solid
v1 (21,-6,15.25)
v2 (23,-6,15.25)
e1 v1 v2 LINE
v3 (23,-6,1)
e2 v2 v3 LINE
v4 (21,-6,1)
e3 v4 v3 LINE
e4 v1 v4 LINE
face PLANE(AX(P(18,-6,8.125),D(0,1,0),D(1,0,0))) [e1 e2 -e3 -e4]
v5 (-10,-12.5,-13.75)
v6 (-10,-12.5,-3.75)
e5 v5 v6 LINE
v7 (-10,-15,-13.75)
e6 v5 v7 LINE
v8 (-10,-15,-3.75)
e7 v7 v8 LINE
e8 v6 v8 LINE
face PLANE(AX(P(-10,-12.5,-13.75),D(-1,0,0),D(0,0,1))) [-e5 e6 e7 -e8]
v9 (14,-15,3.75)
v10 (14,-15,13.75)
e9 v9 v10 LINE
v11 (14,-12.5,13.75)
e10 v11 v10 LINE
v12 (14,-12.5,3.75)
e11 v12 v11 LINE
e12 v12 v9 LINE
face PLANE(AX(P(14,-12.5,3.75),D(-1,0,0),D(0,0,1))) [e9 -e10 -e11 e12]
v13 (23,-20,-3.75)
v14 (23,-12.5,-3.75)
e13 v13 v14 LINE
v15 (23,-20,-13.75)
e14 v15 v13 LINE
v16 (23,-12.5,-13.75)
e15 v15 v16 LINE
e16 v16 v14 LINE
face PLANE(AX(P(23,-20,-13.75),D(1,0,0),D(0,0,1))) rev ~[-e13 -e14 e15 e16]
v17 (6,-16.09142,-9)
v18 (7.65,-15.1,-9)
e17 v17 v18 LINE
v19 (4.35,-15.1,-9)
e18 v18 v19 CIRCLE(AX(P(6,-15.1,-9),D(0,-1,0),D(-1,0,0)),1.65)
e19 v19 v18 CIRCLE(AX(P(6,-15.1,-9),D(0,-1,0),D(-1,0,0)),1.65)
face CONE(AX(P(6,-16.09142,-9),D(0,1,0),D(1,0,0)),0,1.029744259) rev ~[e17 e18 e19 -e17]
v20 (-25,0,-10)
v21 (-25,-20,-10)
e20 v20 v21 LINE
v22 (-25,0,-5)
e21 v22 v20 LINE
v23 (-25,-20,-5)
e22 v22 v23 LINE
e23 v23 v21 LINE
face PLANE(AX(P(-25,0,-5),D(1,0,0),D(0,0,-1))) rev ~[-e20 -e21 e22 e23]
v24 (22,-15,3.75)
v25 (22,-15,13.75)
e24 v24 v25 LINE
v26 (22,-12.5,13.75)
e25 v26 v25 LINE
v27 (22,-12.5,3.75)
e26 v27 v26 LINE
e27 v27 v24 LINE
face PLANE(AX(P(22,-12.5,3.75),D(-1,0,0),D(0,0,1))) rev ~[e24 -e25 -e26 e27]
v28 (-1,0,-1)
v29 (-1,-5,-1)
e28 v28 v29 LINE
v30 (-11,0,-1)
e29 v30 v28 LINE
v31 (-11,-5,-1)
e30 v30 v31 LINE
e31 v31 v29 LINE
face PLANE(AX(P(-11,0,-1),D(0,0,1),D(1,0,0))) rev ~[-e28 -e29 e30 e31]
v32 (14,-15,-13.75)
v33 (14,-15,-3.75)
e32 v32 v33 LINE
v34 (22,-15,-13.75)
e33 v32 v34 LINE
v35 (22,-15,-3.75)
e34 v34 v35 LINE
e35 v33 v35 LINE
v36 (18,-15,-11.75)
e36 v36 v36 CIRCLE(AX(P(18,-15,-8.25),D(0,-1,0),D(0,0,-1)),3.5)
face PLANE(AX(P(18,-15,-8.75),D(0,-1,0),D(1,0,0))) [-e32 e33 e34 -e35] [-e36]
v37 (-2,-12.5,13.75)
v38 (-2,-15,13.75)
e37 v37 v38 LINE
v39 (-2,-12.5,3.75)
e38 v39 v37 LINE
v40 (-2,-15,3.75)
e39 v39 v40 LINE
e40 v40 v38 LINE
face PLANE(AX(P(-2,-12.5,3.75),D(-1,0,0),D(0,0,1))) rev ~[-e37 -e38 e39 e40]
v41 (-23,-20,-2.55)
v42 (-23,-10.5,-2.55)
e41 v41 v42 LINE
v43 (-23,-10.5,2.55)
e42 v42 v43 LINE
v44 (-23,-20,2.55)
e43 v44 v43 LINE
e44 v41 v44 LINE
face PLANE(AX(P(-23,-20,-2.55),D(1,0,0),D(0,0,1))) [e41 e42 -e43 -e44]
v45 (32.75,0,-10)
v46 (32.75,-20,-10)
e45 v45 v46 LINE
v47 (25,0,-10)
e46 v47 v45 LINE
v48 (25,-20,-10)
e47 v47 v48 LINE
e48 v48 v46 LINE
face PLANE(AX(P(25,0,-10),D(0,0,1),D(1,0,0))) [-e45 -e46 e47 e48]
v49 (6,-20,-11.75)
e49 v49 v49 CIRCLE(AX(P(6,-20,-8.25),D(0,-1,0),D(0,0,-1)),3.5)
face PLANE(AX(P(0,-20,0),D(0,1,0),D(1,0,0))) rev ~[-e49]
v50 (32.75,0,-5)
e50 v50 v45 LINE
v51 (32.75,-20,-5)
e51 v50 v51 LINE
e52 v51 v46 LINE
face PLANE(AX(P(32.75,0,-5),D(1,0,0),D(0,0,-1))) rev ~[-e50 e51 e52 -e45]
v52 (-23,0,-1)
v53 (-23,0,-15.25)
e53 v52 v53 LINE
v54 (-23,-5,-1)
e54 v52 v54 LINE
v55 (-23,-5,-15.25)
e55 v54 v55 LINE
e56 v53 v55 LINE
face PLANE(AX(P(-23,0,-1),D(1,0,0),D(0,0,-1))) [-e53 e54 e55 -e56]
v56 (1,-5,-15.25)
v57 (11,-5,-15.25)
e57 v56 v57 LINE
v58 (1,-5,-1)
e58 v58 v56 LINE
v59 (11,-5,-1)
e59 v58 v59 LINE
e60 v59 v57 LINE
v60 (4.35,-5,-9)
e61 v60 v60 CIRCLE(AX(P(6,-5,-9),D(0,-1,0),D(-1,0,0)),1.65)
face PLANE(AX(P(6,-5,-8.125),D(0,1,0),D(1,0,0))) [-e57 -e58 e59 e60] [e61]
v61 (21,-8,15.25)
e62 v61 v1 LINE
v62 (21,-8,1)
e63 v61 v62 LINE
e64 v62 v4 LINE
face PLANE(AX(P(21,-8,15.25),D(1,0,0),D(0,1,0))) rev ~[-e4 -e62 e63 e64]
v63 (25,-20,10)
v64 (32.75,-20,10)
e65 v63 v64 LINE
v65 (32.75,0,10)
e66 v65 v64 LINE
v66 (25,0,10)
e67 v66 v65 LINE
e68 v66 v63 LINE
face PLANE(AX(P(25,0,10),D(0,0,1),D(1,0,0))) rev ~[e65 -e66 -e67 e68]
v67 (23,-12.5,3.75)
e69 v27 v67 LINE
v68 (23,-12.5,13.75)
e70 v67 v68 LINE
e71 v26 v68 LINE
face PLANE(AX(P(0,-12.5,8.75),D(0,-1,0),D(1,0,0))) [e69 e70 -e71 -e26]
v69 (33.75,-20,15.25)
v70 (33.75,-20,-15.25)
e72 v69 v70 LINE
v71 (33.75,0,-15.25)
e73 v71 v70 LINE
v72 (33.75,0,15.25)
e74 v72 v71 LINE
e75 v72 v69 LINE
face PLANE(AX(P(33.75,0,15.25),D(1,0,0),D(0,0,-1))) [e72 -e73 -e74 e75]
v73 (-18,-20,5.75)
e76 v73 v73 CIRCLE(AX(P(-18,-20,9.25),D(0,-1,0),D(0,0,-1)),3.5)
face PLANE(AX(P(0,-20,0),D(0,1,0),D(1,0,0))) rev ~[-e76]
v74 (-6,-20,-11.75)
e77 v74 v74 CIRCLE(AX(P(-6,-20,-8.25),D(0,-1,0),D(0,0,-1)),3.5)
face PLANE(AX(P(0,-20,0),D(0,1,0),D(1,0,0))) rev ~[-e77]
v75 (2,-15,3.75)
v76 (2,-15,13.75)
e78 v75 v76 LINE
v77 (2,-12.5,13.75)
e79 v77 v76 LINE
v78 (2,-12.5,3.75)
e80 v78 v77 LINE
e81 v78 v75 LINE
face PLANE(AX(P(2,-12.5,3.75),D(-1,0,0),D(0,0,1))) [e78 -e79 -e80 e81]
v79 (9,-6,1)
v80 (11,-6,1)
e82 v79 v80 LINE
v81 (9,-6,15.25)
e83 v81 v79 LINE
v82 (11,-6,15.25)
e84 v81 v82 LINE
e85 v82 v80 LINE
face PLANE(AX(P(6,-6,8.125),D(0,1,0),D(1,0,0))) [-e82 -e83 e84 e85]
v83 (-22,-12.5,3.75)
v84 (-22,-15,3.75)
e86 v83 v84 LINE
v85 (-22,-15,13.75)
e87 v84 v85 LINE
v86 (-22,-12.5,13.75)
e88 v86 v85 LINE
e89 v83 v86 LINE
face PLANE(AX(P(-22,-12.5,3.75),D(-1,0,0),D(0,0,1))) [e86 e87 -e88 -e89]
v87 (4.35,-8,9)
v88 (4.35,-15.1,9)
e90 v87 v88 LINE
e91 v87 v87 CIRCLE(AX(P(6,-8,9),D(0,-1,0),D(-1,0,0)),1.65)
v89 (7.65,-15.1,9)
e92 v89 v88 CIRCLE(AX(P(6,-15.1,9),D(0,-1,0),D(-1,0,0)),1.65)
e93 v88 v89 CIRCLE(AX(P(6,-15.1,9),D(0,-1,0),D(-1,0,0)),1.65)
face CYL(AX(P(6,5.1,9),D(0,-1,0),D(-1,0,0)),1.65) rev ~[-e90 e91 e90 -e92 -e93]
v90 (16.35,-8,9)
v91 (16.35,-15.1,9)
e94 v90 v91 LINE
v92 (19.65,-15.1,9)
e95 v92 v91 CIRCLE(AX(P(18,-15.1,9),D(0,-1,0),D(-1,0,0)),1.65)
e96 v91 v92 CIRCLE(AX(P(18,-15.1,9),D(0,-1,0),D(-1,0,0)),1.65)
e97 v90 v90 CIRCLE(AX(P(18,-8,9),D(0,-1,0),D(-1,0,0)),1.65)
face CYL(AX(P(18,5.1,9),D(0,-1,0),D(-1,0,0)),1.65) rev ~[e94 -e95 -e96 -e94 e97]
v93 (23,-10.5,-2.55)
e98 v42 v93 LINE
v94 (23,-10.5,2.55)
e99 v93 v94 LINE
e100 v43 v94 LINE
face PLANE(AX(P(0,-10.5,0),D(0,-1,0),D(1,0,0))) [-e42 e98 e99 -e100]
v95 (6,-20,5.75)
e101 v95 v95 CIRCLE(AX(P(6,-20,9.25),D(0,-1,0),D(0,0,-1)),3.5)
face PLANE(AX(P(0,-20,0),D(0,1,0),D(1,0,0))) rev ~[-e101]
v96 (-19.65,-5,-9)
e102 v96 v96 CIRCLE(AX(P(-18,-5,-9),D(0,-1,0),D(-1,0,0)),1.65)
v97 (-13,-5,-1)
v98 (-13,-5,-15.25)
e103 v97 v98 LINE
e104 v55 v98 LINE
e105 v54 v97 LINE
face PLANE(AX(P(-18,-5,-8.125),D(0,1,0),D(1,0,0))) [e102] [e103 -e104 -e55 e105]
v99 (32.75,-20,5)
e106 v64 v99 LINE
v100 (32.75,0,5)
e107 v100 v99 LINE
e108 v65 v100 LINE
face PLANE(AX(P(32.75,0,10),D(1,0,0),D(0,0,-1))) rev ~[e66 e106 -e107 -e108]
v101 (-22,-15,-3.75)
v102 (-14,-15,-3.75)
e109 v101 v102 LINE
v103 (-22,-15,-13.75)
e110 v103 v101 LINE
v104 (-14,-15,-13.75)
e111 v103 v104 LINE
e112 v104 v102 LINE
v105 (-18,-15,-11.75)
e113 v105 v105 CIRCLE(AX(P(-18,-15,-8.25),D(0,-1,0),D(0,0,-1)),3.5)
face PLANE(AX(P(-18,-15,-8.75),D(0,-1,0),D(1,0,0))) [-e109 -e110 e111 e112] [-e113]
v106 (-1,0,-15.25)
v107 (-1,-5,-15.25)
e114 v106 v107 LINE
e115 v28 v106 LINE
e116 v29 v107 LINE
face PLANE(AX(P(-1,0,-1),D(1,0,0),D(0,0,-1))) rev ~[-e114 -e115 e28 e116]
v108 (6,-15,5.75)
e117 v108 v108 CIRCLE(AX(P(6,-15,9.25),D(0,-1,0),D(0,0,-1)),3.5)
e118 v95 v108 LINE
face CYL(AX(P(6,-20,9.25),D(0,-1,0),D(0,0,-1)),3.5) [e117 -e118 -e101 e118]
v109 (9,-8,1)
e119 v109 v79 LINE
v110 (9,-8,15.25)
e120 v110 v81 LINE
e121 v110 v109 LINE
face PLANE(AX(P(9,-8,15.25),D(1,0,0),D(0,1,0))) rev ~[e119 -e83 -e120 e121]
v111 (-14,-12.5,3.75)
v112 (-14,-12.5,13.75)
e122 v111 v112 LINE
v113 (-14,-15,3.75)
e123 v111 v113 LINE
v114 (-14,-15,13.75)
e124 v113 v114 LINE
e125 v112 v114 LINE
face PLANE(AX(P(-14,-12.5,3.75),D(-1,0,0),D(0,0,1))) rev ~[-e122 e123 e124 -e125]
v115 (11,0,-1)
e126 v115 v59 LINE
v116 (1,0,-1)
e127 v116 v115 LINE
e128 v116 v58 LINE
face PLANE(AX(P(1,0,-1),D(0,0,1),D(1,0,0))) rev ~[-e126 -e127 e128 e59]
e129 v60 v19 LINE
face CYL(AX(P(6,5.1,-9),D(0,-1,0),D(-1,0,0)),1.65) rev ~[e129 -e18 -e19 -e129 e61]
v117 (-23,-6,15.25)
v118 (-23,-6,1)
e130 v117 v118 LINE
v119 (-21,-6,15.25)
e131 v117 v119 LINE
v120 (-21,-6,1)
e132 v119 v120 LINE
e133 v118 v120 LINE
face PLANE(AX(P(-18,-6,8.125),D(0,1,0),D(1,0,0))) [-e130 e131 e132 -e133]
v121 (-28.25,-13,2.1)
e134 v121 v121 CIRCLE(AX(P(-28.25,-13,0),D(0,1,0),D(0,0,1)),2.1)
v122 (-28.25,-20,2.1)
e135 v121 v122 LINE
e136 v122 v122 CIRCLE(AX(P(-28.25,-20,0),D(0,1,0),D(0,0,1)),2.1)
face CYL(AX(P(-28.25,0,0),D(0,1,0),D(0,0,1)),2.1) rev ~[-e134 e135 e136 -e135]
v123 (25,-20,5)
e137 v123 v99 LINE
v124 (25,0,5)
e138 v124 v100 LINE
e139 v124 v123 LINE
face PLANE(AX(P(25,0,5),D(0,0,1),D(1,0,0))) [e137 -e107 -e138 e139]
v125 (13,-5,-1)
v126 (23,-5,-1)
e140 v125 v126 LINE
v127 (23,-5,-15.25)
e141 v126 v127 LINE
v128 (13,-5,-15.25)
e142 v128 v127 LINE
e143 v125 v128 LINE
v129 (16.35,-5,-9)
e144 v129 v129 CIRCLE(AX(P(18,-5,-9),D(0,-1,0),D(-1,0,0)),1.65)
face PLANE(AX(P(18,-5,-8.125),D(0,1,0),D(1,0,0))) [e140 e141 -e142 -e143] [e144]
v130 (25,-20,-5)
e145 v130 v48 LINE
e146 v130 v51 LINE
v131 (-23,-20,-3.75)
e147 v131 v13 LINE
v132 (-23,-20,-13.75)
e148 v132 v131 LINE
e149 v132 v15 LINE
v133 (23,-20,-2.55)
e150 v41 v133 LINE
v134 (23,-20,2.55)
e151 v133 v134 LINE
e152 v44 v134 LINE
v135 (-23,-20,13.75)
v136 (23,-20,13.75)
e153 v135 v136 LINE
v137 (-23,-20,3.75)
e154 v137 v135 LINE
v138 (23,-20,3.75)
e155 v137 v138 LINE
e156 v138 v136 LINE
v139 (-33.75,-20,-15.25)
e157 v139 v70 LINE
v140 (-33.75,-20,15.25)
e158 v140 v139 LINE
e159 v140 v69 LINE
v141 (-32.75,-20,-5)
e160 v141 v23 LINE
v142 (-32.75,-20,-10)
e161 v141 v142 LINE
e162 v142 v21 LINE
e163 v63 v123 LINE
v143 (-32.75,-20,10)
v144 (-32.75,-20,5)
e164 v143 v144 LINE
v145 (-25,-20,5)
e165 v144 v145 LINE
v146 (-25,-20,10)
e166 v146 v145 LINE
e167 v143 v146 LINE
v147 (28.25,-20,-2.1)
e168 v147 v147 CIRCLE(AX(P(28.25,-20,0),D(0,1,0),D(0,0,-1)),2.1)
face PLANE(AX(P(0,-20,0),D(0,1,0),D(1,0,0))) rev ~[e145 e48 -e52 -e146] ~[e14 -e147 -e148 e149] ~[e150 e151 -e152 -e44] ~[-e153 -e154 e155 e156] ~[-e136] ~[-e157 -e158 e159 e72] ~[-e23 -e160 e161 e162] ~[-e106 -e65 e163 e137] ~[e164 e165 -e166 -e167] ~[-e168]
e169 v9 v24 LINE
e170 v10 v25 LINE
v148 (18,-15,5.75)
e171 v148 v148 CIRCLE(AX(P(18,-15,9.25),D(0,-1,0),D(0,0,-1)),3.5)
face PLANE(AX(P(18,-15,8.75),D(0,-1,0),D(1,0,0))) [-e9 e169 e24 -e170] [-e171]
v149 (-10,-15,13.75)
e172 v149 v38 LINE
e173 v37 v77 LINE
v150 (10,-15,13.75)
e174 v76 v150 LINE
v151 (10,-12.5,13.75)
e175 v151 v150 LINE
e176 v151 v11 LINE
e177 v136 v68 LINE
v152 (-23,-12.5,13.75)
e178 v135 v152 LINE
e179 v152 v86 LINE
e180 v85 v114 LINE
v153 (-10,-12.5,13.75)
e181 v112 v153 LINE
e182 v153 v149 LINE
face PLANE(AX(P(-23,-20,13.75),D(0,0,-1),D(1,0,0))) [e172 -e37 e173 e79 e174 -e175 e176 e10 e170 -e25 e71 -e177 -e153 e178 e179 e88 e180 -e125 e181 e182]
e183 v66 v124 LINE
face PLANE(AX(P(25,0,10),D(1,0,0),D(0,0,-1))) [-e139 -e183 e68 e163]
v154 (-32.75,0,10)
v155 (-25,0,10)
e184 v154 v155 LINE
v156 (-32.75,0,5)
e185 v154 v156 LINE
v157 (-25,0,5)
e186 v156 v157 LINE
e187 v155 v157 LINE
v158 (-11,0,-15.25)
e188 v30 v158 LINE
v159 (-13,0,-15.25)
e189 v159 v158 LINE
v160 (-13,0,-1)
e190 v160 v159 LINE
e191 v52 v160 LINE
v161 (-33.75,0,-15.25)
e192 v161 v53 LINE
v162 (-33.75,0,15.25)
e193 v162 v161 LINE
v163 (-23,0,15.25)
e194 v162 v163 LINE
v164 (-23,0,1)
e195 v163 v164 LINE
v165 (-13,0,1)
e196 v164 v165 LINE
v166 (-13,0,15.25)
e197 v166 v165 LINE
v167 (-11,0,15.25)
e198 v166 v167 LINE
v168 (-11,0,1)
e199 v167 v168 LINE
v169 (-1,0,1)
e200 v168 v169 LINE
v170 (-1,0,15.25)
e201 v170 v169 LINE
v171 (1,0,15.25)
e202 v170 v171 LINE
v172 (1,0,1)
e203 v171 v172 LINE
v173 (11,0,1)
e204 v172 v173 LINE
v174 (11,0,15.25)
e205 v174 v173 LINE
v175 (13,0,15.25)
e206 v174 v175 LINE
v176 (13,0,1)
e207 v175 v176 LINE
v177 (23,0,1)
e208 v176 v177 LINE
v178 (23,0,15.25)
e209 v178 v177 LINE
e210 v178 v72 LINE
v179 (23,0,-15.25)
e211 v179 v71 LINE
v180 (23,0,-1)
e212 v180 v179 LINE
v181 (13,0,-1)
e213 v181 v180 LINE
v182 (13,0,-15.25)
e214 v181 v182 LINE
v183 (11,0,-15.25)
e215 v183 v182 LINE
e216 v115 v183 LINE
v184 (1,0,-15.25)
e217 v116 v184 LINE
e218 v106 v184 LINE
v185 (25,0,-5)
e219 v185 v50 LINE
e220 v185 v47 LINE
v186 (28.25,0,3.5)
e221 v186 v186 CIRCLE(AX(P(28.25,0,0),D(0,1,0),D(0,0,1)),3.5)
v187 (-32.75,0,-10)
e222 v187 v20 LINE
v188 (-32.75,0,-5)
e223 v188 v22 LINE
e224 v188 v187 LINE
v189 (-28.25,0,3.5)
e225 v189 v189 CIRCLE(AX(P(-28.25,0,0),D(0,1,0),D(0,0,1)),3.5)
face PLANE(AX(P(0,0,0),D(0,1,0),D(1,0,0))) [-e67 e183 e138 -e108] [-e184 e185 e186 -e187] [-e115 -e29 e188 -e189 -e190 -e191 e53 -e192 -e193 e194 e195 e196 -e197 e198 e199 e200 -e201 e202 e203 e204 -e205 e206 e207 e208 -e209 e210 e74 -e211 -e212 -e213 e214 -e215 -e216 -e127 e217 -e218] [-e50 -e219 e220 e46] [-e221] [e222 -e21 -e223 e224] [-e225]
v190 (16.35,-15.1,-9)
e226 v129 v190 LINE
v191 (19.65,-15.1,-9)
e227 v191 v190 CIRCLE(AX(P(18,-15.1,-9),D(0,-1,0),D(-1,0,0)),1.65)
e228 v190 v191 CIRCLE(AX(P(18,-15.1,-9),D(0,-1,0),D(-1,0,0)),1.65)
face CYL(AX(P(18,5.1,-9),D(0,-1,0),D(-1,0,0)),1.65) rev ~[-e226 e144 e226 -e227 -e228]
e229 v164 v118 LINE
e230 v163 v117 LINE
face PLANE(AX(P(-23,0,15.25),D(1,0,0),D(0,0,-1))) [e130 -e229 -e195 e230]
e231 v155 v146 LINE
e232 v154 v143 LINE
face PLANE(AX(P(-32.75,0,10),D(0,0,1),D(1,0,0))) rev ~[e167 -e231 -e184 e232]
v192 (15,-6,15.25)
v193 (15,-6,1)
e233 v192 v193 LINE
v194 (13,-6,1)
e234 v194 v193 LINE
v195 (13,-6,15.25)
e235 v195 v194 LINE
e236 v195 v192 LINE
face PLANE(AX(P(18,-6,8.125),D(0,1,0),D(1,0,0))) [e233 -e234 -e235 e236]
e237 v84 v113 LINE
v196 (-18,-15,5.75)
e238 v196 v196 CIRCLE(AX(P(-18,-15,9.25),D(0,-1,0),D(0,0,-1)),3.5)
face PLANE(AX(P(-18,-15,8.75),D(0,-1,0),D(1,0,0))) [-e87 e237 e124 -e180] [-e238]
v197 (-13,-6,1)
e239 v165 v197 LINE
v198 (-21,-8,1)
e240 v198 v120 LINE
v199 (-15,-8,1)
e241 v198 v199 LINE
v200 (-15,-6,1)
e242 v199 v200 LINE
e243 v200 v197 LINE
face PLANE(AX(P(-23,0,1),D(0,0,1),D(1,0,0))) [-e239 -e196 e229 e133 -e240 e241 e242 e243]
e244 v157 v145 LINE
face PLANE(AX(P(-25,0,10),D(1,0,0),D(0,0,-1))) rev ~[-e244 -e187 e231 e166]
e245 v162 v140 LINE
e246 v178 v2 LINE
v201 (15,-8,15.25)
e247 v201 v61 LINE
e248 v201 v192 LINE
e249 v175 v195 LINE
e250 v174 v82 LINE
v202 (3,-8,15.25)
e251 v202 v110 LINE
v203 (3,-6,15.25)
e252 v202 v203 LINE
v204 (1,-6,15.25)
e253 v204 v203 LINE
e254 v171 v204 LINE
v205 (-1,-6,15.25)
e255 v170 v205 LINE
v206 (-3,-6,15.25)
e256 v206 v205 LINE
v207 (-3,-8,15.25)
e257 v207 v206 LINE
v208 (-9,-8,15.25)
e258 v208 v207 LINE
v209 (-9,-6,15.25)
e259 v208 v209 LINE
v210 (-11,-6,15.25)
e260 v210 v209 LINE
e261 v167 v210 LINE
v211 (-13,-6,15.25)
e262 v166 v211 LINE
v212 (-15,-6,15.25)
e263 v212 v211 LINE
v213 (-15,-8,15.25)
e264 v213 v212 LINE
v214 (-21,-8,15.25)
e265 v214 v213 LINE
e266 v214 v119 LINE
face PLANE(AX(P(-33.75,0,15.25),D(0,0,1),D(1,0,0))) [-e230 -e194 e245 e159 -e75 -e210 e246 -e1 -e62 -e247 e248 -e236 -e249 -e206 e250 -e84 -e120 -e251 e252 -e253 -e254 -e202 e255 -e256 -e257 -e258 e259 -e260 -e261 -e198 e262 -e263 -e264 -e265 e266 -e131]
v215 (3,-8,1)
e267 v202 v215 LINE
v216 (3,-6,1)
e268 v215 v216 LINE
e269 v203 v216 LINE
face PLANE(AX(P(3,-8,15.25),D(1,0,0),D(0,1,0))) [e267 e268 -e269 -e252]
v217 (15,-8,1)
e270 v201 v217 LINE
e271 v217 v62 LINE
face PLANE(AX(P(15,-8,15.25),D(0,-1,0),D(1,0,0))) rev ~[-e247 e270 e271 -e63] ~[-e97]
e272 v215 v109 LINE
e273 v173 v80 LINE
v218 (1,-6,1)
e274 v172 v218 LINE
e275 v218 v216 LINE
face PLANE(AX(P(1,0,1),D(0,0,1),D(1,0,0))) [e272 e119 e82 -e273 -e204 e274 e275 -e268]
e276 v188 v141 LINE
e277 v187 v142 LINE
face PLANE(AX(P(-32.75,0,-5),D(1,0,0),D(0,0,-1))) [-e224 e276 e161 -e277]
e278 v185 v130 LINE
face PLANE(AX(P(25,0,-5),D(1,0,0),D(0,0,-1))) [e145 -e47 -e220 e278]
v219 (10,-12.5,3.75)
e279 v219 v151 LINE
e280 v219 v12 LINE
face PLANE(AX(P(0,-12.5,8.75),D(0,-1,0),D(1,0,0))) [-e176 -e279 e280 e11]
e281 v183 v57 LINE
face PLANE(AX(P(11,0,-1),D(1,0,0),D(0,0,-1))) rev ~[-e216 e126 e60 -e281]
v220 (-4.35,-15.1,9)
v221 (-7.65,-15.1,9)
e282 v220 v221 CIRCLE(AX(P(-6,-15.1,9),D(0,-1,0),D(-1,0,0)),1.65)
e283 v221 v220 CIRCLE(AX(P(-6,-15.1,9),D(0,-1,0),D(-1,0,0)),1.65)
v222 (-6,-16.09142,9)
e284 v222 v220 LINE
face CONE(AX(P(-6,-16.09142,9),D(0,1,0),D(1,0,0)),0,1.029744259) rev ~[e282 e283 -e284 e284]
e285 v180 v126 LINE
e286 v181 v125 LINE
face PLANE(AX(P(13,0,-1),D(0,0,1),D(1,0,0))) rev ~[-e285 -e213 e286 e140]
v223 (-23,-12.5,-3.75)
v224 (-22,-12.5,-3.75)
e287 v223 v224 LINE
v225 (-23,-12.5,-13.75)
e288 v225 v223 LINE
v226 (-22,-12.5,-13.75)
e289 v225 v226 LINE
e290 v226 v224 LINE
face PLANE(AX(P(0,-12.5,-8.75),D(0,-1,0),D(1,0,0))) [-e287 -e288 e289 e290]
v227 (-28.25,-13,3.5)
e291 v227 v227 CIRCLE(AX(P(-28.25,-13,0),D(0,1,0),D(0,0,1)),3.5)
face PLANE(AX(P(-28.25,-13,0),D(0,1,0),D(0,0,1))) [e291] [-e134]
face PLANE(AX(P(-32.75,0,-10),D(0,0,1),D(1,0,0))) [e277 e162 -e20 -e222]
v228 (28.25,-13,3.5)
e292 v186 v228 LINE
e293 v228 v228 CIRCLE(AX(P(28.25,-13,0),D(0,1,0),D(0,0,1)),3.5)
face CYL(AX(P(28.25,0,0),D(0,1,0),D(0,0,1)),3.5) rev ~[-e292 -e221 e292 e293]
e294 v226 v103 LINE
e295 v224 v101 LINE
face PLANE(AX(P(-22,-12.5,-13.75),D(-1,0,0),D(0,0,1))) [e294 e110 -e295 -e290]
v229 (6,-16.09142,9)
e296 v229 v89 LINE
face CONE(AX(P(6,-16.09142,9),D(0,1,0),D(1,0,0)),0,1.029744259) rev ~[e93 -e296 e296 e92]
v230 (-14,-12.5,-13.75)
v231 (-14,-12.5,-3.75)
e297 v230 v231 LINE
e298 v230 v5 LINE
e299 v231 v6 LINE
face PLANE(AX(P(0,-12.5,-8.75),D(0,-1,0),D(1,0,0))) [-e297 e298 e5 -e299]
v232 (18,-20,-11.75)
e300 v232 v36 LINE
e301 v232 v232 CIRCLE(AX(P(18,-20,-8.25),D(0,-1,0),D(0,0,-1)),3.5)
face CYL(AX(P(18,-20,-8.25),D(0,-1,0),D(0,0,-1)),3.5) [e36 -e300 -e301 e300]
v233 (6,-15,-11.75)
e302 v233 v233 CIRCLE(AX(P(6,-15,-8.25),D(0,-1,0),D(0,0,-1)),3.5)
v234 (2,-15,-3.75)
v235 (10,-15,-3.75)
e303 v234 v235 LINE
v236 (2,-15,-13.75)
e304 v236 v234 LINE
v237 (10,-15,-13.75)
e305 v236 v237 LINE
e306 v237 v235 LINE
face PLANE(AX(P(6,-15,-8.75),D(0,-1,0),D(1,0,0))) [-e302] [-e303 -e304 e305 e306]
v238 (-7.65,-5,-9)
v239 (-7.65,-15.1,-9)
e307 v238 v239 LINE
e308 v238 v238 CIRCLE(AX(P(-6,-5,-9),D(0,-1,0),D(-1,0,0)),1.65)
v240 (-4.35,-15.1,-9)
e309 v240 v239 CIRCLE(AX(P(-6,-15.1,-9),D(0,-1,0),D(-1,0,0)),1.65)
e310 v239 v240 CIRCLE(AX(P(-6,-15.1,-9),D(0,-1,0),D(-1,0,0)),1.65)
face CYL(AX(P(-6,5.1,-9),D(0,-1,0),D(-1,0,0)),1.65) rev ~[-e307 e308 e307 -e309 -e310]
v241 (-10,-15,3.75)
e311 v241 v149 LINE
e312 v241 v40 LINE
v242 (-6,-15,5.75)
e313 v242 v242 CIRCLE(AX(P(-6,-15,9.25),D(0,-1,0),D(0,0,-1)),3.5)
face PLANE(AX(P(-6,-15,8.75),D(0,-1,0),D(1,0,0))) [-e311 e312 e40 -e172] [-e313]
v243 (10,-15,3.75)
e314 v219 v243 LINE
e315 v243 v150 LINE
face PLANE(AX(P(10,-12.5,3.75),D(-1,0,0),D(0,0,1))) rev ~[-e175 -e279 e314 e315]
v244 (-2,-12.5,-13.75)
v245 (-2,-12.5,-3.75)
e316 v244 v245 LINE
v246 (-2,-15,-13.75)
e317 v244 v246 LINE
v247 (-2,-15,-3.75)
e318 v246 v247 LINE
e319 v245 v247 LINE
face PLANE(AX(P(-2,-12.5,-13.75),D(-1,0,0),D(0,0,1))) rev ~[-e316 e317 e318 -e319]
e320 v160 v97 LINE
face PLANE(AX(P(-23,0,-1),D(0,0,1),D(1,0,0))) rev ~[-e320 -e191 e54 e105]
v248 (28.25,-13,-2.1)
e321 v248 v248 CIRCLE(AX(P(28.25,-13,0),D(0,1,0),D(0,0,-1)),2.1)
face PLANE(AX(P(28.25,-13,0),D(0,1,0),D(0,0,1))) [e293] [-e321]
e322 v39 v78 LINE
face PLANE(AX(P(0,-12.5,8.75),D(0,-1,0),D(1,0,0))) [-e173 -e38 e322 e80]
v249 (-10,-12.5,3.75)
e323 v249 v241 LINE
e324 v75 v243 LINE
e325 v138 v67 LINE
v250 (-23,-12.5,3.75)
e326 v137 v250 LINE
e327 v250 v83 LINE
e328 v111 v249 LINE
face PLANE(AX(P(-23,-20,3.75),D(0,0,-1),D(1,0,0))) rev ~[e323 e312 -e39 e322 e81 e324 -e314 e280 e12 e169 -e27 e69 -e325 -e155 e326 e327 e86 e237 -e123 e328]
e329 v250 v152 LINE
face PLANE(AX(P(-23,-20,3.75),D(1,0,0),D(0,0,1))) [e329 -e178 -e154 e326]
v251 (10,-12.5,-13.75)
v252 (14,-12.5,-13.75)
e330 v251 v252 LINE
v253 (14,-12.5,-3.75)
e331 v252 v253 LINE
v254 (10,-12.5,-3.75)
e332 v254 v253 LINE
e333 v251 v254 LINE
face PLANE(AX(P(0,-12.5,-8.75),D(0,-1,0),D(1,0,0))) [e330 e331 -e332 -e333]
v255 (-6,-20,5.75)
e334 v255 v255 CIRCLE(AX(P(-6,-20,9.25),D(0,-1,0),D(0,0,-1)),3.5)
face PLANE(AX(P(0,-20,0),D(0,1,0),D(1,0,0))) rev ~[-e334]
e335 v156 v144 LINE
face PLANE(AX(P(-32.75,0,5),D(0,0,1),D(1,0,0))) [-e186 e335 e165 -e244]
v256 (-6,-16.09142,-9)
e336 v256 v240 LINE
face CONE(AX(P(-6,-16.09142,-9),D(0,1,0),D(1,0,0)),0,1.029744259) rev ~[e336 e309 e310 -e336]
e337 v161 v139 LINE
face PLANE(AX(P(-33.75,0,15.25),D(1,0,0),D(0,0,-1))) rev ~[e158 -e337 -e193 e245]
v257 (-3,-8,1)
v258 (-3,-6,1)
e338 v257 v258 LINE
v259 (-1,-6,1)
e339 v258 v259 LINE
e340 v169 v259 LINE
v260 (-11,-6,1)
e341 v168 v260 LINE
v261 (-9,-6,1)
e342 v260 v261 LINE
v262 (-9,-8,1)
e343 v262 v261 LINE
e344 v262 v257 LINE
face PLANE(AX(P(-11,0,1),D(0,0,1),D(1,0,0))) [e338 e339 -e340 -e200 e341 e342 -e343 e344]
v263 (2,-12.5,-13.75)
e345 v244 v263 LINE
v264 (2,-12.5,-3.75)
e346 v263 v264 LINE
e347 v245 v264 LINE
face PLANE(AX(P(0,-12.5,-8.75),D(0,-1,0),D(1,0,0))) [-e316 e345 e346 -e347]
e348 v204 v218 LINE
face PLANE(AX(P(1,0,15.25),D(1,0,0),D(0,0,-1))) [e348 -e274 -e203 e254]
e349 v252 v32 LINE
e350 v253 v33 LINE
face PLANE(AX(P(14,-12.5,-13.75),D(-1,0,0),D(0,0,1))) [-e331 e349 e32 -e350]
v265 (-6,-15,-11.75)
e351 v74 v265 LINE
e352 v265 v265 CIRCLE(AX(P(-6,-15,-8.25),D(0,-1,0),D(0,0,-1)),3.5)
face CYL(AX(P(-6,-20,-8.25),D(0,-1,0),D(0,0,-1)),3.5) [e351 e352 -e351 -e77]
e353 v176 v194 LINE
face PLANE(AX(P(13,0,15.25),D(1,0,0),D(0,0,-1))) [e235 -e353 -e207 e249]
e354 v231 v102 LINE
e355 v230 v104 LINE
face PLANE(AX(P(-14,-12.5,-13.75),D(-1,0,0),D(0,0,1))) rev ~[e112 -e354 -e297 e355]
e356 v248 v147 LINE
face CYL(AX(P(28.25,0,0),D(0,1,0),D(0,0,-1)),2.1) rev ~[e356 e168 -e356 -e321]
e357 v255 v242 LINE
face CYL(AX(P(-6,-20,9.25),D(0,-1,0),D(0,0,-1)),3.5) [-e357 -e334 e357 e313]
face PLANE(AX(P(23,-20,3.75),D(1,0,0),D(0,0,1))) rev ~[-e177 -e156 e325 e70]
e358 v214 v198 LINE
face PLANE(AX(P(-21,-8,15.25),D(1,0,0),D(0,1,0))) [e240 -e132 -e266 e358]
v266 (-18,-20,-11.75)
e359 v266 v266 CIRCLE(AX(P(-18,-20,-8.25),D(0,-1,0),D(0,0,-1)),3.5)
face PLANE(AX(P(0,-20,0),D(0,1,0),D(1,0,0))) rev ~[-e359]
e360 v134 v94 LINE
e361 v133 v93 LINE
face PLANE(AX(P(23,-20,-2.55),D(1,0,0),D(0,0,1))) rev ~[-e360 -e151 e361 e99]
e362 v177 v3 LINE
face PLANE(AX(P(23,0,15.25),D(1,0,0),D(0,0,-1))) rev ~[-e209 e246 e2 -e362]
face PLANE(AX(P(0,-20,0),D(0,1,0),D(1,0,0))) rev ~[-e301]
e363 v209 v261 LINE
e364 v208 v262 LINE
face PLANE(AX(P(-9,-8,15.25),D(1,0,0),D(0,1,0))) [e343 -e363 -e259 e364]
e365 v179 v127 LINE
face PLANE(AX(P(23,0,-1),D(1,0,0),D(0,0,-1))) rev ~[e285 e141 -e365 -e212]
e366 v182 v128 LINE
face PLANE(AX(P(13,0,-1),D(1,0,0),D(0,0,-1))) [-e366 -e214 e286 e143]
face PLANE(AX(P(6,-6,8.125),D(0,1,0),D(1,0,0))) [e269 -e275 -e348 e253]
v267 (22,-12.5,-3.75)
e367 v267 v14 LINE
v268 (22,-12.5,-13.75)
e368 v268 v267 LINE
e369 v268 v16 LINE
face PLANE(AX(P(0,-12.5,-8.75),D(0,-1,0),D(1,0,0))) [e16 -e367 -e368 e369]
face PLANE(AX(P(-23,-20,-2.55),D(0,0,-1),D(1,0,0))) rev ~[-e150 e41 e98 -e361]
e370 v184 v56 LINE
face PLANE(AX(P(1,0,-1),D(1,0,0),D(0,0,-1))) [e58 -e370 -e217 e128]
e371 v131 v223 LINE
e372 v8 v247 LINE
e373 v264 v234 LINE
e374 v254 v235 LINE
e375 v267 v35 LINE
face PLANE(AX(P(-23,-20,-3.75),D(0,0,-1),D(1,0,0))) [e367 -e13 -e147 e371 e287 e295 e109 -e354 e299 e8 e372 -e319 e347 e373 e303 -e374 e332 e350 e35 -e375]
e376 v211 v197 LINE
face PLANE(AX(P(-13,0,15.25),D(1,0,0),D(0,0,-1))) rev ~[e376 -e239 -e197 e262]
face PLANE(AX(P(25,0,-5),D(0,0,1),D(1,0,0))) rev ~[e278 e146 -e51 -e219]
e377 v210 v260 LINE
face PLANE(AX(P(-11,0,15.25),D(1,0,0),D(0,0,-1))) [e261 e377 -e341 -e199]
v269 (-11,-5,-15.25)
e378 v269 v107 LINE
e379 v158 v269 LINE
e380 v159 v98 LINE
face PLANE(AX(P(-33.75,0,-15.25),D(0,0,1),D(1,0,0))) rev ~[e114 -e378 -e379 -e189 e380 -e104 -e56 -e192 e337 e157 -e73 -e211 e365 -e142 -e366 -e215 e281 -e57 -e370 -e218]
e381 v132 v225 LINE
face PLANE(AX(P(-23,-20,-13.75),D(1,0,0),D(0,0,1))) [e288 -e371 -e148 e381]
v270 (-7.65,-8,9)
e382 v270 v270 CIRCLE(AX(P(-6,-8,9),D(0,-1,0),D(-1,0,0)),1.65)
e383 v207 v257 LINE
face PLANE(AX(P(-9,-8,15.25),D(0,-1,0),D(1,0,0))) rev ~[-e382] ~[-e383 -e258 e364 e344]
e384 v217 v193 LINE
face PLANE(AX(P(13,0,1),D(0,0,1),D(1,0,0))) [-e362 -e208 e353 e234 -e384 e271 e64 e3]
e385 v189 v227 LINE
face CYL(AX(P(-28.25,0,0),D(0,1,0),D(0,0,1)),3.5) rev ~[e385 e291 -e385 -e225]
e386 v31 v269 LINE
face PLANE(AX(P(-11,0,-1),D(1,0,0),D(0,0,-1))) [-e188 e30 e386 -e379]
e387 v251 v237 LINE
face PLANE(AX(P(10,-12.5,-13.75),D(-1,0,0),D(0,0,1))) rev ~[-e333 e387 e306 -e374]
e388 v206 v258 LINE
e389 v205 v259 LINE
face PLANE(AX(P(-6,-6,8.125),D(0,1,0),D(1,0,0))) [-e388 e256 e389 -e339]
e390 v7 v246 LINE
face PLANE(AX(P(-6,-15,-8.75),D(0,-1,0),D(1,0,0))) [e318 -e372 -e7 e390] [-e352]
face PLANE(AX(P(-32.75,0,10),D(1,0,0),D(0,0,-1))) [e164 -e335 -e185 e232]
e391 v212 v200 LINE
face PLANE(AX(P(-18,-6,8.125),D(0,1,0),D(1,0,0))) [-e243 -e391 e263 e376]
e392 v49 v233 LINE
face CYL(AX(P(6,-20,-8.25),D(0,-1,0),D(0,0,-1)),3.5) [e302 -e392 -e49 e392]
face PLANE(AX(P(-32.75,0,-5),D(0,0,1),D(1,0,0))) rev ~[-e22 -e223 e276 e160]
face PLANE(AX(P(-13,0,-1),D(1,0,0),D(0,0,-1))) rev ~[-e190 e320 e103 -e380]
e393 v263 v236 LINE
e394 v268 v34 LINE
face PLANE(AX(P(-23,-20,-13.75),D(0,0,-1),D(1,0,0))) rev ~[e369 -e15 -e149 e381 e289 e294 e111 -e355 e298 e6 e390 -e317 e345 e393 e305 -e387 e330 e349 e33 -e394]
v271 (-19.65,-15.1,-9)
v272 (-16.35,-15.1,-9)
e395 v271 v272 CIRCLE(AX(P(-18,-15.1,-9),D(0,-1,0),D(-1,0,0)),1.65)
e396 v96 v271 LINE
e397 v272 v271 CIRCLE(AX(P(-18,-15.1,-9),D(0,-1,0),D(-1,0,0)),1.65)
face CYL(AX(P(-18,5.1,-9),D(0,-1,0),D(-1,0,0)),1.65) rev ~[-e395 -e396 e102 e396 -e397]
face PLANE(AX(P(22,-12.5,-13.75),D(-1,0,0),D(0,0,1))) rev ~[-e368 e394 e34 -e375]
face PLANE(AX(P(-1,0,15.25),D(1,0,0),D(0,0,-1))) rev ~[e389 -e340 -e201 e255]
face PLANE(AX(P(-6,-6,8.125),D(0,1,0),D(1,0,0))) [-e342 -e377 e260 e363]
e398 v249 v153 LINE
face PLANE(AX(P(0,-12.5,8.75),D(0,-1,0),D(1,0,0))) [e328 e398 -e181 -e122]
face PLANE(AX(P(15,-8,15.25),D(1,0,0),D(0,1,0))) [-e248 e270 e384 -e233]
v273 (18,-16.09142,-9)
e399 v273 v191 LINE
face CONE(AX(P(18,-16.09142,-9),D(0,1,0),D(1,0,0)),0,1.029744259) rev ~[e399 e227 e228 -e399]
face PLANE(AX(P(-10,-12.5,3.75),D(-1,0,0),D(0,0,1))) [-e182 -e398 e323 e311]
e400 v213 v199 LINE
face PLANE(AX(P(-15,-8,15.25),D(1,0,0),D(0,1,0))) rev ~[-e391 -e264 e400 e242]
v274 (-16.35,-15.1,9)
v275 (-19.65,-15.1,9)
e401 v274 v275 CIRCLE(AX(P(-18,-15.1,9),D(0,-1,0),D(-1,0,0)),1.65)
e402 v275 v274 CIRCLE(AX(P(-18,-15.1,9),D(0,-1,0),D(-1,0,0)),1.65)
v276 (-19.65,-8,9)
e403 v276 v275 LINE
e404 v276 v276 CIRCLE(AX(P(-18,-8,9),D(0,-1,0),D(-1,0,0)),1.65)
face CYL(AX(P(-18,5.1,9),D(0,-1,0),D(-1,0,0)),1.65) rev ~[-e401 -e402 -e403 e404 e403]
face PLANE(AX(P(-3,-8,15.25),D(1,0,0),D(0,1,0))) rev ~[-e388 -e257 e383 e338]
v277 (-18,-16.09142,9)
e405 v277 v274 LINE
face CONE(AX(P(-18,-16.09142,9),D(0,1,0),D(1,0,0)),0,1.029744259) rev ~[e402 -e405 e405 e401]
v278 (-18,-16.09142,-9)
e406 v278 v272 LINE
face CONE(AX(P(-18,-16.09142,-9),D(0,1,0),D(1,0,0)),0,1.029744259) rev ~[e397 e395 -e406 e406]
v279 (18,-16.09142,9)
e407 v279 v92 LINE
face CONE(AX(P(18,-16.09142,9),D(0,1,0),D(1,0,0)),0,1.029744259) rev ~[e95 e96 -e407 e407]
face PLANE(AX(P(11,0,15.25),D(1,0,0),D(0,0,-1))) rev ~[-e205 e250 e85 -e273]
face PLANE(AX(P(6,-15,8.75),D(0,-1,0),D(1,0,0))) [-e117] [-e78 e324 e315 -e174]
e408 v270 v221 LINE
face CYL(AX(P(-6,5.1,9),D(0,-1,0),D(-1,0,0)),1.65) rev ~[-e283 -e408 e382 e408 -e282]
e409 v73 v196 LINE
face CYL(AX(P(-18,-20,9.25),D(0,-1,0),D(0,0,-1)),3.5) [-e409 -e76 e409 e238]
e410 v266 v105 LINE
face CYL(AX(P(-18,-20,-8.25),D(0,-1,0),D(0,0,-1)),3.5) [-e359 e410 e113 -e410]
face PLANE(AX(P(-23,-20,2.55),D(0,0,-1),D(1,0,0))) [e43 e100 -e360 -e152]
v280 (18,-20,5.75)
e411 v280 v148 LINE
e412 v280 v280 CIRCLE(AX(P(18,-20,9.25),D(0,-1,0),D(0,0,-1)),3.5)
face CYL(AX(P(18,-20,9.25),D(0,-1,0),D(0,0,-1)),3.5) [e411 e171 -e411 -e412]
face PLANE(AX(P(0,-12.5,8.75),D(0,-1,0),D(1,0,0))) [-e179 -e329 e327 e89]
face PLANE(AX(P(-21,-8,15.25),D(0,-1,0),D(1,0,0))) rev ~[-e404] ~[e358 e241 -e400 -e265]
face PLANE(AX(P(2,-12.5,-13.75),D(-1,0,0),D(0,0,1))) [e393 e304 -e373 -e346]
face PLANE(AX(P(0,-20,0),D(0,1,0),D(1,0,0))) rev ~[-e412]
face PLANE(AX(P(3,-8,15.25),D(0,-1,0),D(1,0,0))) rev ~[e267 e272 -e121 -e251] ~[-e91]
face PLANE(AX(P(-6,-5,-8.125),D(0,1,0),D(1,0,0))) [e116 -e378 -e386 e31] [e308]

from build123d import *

# Parameters (mm, degrees)
SKETCH_1_W             = 67.5
SKETCH_1_H             = 30.5
SKETCH_1_W_2           = 7.75
SKETCH_1_H_2           = 5
EXTRUDE_1_DEPTH        = 20
SKETCH_1_3_R           = 3.5
CUT_EXTRUDE_1_DEPTH    = 13
SKETCH_1_4_R           = 2.1
CUT_EXTRUDE_2_DEPTH    = 43.090675927
SKETCH_1_5_W           = 10
SKETCH_1_5_H           = 14.25
CUT_EXTRUDE_3_DEPTH    = 6
SKETCH_1_6_W           = 10
SKETCH_1_6_H           = 14.25
CUT_EXTRUDE_4_DEPTH    = 5
SKETCH_2_W             = 6
SKETCH_2_H             = 2
CUT_EXTRUDE_5_DEPTH    = 14.25
SKETCH_3_W             = 46
SKETCH_3_H             = 10
SKETCH_3_R             = 3.5
CUT_EXTRUDE_6_DEPTH    = 7.5
SKETCH_3_3_W           = 46
SKETCH_3_3_H           = 5.1
CUT_EXTRUDE_7_DEPTH    = 9.5
SKETCH_4_W             = 8
SKETCH_4_H             = 10
EXTRUDE_2_DEPTH        = 2.5
HOLE_WIZARD_M4_1_D     = 3.3
HOLE_WIZARD_M4_1_DEPTH = 10.1
HOLE_WIZARD_M4_1_TIP   = 0.991420021


with BuildPart() as part:
    # 草图1 → 凸台-拉伸1 (new body)
    with BuildSketch(Plane(origin=(0, 0, 0), x_dir=(1, 0, 0), z_dir=(0, 1, 0))):
        Rectangle(SKETCH_1_W, SKETCH_1_H)
        with Locations((-28.875, -7.5)):
            Rectangle(SKETCH_1_W_2, SKETCH_1_H_2, mode=Mode.SUBTRACT)
        with Locations((-28.875, 7.5)):
            Rectangle(SKETCH_1_W_2, SKETCH_1_H_2, mode=Mode.SUBTRACT)
        with Locations((28.875, 7.5)):
            Rectangle(SKETCH_1_W_2, SKETCH_1_H_2, mode=Mode.SUBTRACT)
        with Locations((28.875, -7.5)):
            Rectangle(SKETCH_1_W_2, SKETCH_1_H_2, mode=Mode.SUBTRACT)
    extrude(amount=-EXTRUDE_1_DEPTH)

    # 草图1<3> → 切除-拉伸1 (cut)
    with BuildSketch(Plane(origin=(0, 0, 0), x_dir=(1, 0, 0), z_dir=(0, 1, 0))):
        with Locations(Location((-28.25, 0, 0), (0, 0, 270))):
            Circle(SKETCH_1_3_R)
        with Locations(Location((28.25, 0, 0), (0, 0, 270))):
            Circle(SKETCH_1_3_R)
    extrude(amount=-CUT_EXTRUDE_1_DEPTH, mode=Mode.SUBTRACT)

    # 草图1<4> → 切除-拉伸2 (cut, through all)
    with BuildSketch(Plane(origin=(0, 0, 0), x_dir=(1, 0, 0), z_dir=(0, 1, 0))):
        with Locations(Location((-28.25, 0, 0), (0, 0, 270))):
            Circle(SKETCH_1_4_R)
        with Locations(Location((28.25, 0, 0), (0, 0, 90))):
            Circle(SKETCH_1_4_R)
    extrude(amount=-CUT_EXTRUDE_2_DEPTH, mode=Mode.SUBTRACT)

    # 草图1<5> → 切除-拉伸3 (cut)
    with BuildSketch(Plane(origin=(0, 0, 0), x_dir=(1, 0, 0), z_dir=(0, 1, 0))):
        with Locations((-18, -8.125)):
            Rectangle(SKETCH_1_5_W, SKETCH_1_5_H)
        with Locations((-6, -8.125)):
            Rectangle(SKETCH_1_5_W, SKETCH_1_5_H)
        with Locations((6, -8.125)):
            Rectangle(SKETCH_1_5_W, SKETCH_1_5_H)
        with Locations((18, -8.125)):
            Rectangle(SKETCH_1_5_W, SKETCH_1_5_H)
    extrude(amount=-CUT_EXTRUDE_3_DEPTH, mode=Mode.SUBTRACT)

    # 草图1<6> → 切除-拉伸4 (cut)
    with BuildSketch(Plane(origin=(0, 0, 0), x_dir=(1, 0, 0), z_dir=(0, 1, 0))):
        with Locations((-18, 8.125)):
            Rectangle(SKETCH_1_6_W, SKETCH_1_6_H)
        with Locations((-6, 8.125)):
            Rectangle(SKETCH_1_6_W, SKETCH_1_6_H)
        with Locations((6, 8.125)):
            Rectangle(SKETCH_1_6_W, SKETCH_1_6_H)
        with Locations((18, 8.125)):
            Rectangle(SKETCH_1_6_W, SKETCH_1_6_H)
    extrude(amount=-CUT_EXTRUDE_4_DEPTH, mode=Mode.SUBTRACT)

    # 草图2 → 切除-拉伸5 (cut)
    with BuildSketch(Plane.XY.offset(15.25)):
        with Locations((-6, -7)):
            Rectangle(SKETCH_2_W, SKETCH_2_H)
        with Locations((-18, -7)):
            Rectangle(SKETCH_2_W, SKETCH_2_H)
        with Locations((6, -7)):
            Rectangle(SKETCH_2_W, SKETCH_2_H)
        with Locations((18, -7)):
            Rectangle(SKETCH_2_W, SKETCH_2_H)
    extrude(amount=-CUT_EXTRUDE_5_DEPTH, mode=Mode.SUBTRACT)

    # 草图3 → 切除-拉伸6 (cut)
    # profile 1 of 2: a face of its own
    with BuildSketch(Plane.XZ.offset(20)):
        with Locations((0, 8.75)):
            Rectangle(SKETCH_3_W, SKETCH_3_H)
        with Locations(Location((18, 9.25, 0), (0, 0, 270))):
            Circle(SKETCH_3_R, mode=Mode.SUBTRACT)
        with Locations(Location((6, 9.25, 0), (0, 0, 270))):
            Circle(SKETCH_3_R, mode=Mode.SUBTRACT)
        with Locations(Location((-6, 9.25, 0), (0, 0, 270))):
            Circle(SKETCH_3_R, mode=Mode.SUBTRACT)
        with Locations(Location((-18, 9.25, 0), (0, 0, 270))):
            Circle(SKETCH_3_R, mode=Mode.SUBTRACT)
    # profile 2 of 2: a face of its own
    with BuildSketch(Plane.XZ.offset(20)):
        with Locations((0, -8.75)):
            Rectangle(SKETCH_3_W, SKETCH_3_H)
        with Locations(Location((-18, -8.25, 0), (0, 0, 270))):
            Circle(SKETCH_3_R, mode=Mode.SUBTRACT)
        with Locations(Location((18, -8.25, 0), (0, 0, 270))):
            Circle(SKETCH_3_R, mode=Mode.SUBTRACT)
        with Locations(Location((6, -8.25, 0), (0, 0, 270))):
            Circle(SKETCH_3_R, mode=Mode.SUBTRACT)
        with Locations(Location((-6, -8.25, 0), (0, 0, 270))):
            Circle(SKETCH_3_R, mode=Mode.SUBTRACT)
    extrude(amount=-CUT_EXTRUDE_6_DEPTH, mode=Mode.SUBTRACT)

    # 草图3<3> → 切除-拉伸7 (cut)
    with BuildSketch(Plane.XZ.offset(20)):
        Rectangle(SKETCH_3_3_W, SKETCH_3_3_H)
    extrude(amount=-CUT_EXTRUDE_7_DEPTH, mode=Mode.SUBTRACT)

    # 草图4 → 凸台-拉伸2 (add)
    with BuildSketch(Plane.XZ.offset(12.5)):
        with Locations((-18, 8.75)):
            Rectangle(SKETCH_4_W, SKETCH_4_H)
        with Locations((-6, 8.75)):
            Rectangle(SKETCH_4_W, SKETCH_4_H)
        with Locations((6, 8.75)):
            Rectangle(SKETCH_4_W, SKETCH_4_H)
        with Locations((18, 8.75)):
            Rectangle(SKETCH_4_W, SKETCH_4_H)
        with Locations((-6, -8.75)):
            Rectangle(SKETCH_4_W, SKETCH_4_H)
        with Locations((6, -8.75)):
            Rectangle(SKETCH_4_W, SKETCH_4_H)
        with Locations((18, -8.75)):
            Rectangle(SKETCH_4_W, SKETCH_4_H)
        with Locations((-18, -8.75)):
            Rectangle(SKETCH_4_W, SKETCH_4_H)
    extrude(amount=EXTRUDE_2_DEPTH)

    # M4 螺纹孔1
    with Locations(Plane(origin=(0, -5, 0), x_dir=(1, 0, 0), z_dir=(0, 1, 0))):
        with Locations((-18, 9), (-6, 9), (6, 9), (18, 9), (18, -9), (6, -9), (-6, -9), (-18, -9)):
            Hole(HOLE_WIZARD_M4_1_D / 2, depth=HOLE_WIZARD_M4_1_DEPTH)
            with Locations((0, 0, -(HOLE_WIZARD_M4_1_DEPTH + HOLE_WIZARD_M4_1_TIP / 2))):  # 118° drill point
                Cone(0, HOLE_WIZARD_M4_1_D / 2, HOLE_WIZARD_M4_1_TIP, mode=Mode.SUBTRACT)


solid = part.part
